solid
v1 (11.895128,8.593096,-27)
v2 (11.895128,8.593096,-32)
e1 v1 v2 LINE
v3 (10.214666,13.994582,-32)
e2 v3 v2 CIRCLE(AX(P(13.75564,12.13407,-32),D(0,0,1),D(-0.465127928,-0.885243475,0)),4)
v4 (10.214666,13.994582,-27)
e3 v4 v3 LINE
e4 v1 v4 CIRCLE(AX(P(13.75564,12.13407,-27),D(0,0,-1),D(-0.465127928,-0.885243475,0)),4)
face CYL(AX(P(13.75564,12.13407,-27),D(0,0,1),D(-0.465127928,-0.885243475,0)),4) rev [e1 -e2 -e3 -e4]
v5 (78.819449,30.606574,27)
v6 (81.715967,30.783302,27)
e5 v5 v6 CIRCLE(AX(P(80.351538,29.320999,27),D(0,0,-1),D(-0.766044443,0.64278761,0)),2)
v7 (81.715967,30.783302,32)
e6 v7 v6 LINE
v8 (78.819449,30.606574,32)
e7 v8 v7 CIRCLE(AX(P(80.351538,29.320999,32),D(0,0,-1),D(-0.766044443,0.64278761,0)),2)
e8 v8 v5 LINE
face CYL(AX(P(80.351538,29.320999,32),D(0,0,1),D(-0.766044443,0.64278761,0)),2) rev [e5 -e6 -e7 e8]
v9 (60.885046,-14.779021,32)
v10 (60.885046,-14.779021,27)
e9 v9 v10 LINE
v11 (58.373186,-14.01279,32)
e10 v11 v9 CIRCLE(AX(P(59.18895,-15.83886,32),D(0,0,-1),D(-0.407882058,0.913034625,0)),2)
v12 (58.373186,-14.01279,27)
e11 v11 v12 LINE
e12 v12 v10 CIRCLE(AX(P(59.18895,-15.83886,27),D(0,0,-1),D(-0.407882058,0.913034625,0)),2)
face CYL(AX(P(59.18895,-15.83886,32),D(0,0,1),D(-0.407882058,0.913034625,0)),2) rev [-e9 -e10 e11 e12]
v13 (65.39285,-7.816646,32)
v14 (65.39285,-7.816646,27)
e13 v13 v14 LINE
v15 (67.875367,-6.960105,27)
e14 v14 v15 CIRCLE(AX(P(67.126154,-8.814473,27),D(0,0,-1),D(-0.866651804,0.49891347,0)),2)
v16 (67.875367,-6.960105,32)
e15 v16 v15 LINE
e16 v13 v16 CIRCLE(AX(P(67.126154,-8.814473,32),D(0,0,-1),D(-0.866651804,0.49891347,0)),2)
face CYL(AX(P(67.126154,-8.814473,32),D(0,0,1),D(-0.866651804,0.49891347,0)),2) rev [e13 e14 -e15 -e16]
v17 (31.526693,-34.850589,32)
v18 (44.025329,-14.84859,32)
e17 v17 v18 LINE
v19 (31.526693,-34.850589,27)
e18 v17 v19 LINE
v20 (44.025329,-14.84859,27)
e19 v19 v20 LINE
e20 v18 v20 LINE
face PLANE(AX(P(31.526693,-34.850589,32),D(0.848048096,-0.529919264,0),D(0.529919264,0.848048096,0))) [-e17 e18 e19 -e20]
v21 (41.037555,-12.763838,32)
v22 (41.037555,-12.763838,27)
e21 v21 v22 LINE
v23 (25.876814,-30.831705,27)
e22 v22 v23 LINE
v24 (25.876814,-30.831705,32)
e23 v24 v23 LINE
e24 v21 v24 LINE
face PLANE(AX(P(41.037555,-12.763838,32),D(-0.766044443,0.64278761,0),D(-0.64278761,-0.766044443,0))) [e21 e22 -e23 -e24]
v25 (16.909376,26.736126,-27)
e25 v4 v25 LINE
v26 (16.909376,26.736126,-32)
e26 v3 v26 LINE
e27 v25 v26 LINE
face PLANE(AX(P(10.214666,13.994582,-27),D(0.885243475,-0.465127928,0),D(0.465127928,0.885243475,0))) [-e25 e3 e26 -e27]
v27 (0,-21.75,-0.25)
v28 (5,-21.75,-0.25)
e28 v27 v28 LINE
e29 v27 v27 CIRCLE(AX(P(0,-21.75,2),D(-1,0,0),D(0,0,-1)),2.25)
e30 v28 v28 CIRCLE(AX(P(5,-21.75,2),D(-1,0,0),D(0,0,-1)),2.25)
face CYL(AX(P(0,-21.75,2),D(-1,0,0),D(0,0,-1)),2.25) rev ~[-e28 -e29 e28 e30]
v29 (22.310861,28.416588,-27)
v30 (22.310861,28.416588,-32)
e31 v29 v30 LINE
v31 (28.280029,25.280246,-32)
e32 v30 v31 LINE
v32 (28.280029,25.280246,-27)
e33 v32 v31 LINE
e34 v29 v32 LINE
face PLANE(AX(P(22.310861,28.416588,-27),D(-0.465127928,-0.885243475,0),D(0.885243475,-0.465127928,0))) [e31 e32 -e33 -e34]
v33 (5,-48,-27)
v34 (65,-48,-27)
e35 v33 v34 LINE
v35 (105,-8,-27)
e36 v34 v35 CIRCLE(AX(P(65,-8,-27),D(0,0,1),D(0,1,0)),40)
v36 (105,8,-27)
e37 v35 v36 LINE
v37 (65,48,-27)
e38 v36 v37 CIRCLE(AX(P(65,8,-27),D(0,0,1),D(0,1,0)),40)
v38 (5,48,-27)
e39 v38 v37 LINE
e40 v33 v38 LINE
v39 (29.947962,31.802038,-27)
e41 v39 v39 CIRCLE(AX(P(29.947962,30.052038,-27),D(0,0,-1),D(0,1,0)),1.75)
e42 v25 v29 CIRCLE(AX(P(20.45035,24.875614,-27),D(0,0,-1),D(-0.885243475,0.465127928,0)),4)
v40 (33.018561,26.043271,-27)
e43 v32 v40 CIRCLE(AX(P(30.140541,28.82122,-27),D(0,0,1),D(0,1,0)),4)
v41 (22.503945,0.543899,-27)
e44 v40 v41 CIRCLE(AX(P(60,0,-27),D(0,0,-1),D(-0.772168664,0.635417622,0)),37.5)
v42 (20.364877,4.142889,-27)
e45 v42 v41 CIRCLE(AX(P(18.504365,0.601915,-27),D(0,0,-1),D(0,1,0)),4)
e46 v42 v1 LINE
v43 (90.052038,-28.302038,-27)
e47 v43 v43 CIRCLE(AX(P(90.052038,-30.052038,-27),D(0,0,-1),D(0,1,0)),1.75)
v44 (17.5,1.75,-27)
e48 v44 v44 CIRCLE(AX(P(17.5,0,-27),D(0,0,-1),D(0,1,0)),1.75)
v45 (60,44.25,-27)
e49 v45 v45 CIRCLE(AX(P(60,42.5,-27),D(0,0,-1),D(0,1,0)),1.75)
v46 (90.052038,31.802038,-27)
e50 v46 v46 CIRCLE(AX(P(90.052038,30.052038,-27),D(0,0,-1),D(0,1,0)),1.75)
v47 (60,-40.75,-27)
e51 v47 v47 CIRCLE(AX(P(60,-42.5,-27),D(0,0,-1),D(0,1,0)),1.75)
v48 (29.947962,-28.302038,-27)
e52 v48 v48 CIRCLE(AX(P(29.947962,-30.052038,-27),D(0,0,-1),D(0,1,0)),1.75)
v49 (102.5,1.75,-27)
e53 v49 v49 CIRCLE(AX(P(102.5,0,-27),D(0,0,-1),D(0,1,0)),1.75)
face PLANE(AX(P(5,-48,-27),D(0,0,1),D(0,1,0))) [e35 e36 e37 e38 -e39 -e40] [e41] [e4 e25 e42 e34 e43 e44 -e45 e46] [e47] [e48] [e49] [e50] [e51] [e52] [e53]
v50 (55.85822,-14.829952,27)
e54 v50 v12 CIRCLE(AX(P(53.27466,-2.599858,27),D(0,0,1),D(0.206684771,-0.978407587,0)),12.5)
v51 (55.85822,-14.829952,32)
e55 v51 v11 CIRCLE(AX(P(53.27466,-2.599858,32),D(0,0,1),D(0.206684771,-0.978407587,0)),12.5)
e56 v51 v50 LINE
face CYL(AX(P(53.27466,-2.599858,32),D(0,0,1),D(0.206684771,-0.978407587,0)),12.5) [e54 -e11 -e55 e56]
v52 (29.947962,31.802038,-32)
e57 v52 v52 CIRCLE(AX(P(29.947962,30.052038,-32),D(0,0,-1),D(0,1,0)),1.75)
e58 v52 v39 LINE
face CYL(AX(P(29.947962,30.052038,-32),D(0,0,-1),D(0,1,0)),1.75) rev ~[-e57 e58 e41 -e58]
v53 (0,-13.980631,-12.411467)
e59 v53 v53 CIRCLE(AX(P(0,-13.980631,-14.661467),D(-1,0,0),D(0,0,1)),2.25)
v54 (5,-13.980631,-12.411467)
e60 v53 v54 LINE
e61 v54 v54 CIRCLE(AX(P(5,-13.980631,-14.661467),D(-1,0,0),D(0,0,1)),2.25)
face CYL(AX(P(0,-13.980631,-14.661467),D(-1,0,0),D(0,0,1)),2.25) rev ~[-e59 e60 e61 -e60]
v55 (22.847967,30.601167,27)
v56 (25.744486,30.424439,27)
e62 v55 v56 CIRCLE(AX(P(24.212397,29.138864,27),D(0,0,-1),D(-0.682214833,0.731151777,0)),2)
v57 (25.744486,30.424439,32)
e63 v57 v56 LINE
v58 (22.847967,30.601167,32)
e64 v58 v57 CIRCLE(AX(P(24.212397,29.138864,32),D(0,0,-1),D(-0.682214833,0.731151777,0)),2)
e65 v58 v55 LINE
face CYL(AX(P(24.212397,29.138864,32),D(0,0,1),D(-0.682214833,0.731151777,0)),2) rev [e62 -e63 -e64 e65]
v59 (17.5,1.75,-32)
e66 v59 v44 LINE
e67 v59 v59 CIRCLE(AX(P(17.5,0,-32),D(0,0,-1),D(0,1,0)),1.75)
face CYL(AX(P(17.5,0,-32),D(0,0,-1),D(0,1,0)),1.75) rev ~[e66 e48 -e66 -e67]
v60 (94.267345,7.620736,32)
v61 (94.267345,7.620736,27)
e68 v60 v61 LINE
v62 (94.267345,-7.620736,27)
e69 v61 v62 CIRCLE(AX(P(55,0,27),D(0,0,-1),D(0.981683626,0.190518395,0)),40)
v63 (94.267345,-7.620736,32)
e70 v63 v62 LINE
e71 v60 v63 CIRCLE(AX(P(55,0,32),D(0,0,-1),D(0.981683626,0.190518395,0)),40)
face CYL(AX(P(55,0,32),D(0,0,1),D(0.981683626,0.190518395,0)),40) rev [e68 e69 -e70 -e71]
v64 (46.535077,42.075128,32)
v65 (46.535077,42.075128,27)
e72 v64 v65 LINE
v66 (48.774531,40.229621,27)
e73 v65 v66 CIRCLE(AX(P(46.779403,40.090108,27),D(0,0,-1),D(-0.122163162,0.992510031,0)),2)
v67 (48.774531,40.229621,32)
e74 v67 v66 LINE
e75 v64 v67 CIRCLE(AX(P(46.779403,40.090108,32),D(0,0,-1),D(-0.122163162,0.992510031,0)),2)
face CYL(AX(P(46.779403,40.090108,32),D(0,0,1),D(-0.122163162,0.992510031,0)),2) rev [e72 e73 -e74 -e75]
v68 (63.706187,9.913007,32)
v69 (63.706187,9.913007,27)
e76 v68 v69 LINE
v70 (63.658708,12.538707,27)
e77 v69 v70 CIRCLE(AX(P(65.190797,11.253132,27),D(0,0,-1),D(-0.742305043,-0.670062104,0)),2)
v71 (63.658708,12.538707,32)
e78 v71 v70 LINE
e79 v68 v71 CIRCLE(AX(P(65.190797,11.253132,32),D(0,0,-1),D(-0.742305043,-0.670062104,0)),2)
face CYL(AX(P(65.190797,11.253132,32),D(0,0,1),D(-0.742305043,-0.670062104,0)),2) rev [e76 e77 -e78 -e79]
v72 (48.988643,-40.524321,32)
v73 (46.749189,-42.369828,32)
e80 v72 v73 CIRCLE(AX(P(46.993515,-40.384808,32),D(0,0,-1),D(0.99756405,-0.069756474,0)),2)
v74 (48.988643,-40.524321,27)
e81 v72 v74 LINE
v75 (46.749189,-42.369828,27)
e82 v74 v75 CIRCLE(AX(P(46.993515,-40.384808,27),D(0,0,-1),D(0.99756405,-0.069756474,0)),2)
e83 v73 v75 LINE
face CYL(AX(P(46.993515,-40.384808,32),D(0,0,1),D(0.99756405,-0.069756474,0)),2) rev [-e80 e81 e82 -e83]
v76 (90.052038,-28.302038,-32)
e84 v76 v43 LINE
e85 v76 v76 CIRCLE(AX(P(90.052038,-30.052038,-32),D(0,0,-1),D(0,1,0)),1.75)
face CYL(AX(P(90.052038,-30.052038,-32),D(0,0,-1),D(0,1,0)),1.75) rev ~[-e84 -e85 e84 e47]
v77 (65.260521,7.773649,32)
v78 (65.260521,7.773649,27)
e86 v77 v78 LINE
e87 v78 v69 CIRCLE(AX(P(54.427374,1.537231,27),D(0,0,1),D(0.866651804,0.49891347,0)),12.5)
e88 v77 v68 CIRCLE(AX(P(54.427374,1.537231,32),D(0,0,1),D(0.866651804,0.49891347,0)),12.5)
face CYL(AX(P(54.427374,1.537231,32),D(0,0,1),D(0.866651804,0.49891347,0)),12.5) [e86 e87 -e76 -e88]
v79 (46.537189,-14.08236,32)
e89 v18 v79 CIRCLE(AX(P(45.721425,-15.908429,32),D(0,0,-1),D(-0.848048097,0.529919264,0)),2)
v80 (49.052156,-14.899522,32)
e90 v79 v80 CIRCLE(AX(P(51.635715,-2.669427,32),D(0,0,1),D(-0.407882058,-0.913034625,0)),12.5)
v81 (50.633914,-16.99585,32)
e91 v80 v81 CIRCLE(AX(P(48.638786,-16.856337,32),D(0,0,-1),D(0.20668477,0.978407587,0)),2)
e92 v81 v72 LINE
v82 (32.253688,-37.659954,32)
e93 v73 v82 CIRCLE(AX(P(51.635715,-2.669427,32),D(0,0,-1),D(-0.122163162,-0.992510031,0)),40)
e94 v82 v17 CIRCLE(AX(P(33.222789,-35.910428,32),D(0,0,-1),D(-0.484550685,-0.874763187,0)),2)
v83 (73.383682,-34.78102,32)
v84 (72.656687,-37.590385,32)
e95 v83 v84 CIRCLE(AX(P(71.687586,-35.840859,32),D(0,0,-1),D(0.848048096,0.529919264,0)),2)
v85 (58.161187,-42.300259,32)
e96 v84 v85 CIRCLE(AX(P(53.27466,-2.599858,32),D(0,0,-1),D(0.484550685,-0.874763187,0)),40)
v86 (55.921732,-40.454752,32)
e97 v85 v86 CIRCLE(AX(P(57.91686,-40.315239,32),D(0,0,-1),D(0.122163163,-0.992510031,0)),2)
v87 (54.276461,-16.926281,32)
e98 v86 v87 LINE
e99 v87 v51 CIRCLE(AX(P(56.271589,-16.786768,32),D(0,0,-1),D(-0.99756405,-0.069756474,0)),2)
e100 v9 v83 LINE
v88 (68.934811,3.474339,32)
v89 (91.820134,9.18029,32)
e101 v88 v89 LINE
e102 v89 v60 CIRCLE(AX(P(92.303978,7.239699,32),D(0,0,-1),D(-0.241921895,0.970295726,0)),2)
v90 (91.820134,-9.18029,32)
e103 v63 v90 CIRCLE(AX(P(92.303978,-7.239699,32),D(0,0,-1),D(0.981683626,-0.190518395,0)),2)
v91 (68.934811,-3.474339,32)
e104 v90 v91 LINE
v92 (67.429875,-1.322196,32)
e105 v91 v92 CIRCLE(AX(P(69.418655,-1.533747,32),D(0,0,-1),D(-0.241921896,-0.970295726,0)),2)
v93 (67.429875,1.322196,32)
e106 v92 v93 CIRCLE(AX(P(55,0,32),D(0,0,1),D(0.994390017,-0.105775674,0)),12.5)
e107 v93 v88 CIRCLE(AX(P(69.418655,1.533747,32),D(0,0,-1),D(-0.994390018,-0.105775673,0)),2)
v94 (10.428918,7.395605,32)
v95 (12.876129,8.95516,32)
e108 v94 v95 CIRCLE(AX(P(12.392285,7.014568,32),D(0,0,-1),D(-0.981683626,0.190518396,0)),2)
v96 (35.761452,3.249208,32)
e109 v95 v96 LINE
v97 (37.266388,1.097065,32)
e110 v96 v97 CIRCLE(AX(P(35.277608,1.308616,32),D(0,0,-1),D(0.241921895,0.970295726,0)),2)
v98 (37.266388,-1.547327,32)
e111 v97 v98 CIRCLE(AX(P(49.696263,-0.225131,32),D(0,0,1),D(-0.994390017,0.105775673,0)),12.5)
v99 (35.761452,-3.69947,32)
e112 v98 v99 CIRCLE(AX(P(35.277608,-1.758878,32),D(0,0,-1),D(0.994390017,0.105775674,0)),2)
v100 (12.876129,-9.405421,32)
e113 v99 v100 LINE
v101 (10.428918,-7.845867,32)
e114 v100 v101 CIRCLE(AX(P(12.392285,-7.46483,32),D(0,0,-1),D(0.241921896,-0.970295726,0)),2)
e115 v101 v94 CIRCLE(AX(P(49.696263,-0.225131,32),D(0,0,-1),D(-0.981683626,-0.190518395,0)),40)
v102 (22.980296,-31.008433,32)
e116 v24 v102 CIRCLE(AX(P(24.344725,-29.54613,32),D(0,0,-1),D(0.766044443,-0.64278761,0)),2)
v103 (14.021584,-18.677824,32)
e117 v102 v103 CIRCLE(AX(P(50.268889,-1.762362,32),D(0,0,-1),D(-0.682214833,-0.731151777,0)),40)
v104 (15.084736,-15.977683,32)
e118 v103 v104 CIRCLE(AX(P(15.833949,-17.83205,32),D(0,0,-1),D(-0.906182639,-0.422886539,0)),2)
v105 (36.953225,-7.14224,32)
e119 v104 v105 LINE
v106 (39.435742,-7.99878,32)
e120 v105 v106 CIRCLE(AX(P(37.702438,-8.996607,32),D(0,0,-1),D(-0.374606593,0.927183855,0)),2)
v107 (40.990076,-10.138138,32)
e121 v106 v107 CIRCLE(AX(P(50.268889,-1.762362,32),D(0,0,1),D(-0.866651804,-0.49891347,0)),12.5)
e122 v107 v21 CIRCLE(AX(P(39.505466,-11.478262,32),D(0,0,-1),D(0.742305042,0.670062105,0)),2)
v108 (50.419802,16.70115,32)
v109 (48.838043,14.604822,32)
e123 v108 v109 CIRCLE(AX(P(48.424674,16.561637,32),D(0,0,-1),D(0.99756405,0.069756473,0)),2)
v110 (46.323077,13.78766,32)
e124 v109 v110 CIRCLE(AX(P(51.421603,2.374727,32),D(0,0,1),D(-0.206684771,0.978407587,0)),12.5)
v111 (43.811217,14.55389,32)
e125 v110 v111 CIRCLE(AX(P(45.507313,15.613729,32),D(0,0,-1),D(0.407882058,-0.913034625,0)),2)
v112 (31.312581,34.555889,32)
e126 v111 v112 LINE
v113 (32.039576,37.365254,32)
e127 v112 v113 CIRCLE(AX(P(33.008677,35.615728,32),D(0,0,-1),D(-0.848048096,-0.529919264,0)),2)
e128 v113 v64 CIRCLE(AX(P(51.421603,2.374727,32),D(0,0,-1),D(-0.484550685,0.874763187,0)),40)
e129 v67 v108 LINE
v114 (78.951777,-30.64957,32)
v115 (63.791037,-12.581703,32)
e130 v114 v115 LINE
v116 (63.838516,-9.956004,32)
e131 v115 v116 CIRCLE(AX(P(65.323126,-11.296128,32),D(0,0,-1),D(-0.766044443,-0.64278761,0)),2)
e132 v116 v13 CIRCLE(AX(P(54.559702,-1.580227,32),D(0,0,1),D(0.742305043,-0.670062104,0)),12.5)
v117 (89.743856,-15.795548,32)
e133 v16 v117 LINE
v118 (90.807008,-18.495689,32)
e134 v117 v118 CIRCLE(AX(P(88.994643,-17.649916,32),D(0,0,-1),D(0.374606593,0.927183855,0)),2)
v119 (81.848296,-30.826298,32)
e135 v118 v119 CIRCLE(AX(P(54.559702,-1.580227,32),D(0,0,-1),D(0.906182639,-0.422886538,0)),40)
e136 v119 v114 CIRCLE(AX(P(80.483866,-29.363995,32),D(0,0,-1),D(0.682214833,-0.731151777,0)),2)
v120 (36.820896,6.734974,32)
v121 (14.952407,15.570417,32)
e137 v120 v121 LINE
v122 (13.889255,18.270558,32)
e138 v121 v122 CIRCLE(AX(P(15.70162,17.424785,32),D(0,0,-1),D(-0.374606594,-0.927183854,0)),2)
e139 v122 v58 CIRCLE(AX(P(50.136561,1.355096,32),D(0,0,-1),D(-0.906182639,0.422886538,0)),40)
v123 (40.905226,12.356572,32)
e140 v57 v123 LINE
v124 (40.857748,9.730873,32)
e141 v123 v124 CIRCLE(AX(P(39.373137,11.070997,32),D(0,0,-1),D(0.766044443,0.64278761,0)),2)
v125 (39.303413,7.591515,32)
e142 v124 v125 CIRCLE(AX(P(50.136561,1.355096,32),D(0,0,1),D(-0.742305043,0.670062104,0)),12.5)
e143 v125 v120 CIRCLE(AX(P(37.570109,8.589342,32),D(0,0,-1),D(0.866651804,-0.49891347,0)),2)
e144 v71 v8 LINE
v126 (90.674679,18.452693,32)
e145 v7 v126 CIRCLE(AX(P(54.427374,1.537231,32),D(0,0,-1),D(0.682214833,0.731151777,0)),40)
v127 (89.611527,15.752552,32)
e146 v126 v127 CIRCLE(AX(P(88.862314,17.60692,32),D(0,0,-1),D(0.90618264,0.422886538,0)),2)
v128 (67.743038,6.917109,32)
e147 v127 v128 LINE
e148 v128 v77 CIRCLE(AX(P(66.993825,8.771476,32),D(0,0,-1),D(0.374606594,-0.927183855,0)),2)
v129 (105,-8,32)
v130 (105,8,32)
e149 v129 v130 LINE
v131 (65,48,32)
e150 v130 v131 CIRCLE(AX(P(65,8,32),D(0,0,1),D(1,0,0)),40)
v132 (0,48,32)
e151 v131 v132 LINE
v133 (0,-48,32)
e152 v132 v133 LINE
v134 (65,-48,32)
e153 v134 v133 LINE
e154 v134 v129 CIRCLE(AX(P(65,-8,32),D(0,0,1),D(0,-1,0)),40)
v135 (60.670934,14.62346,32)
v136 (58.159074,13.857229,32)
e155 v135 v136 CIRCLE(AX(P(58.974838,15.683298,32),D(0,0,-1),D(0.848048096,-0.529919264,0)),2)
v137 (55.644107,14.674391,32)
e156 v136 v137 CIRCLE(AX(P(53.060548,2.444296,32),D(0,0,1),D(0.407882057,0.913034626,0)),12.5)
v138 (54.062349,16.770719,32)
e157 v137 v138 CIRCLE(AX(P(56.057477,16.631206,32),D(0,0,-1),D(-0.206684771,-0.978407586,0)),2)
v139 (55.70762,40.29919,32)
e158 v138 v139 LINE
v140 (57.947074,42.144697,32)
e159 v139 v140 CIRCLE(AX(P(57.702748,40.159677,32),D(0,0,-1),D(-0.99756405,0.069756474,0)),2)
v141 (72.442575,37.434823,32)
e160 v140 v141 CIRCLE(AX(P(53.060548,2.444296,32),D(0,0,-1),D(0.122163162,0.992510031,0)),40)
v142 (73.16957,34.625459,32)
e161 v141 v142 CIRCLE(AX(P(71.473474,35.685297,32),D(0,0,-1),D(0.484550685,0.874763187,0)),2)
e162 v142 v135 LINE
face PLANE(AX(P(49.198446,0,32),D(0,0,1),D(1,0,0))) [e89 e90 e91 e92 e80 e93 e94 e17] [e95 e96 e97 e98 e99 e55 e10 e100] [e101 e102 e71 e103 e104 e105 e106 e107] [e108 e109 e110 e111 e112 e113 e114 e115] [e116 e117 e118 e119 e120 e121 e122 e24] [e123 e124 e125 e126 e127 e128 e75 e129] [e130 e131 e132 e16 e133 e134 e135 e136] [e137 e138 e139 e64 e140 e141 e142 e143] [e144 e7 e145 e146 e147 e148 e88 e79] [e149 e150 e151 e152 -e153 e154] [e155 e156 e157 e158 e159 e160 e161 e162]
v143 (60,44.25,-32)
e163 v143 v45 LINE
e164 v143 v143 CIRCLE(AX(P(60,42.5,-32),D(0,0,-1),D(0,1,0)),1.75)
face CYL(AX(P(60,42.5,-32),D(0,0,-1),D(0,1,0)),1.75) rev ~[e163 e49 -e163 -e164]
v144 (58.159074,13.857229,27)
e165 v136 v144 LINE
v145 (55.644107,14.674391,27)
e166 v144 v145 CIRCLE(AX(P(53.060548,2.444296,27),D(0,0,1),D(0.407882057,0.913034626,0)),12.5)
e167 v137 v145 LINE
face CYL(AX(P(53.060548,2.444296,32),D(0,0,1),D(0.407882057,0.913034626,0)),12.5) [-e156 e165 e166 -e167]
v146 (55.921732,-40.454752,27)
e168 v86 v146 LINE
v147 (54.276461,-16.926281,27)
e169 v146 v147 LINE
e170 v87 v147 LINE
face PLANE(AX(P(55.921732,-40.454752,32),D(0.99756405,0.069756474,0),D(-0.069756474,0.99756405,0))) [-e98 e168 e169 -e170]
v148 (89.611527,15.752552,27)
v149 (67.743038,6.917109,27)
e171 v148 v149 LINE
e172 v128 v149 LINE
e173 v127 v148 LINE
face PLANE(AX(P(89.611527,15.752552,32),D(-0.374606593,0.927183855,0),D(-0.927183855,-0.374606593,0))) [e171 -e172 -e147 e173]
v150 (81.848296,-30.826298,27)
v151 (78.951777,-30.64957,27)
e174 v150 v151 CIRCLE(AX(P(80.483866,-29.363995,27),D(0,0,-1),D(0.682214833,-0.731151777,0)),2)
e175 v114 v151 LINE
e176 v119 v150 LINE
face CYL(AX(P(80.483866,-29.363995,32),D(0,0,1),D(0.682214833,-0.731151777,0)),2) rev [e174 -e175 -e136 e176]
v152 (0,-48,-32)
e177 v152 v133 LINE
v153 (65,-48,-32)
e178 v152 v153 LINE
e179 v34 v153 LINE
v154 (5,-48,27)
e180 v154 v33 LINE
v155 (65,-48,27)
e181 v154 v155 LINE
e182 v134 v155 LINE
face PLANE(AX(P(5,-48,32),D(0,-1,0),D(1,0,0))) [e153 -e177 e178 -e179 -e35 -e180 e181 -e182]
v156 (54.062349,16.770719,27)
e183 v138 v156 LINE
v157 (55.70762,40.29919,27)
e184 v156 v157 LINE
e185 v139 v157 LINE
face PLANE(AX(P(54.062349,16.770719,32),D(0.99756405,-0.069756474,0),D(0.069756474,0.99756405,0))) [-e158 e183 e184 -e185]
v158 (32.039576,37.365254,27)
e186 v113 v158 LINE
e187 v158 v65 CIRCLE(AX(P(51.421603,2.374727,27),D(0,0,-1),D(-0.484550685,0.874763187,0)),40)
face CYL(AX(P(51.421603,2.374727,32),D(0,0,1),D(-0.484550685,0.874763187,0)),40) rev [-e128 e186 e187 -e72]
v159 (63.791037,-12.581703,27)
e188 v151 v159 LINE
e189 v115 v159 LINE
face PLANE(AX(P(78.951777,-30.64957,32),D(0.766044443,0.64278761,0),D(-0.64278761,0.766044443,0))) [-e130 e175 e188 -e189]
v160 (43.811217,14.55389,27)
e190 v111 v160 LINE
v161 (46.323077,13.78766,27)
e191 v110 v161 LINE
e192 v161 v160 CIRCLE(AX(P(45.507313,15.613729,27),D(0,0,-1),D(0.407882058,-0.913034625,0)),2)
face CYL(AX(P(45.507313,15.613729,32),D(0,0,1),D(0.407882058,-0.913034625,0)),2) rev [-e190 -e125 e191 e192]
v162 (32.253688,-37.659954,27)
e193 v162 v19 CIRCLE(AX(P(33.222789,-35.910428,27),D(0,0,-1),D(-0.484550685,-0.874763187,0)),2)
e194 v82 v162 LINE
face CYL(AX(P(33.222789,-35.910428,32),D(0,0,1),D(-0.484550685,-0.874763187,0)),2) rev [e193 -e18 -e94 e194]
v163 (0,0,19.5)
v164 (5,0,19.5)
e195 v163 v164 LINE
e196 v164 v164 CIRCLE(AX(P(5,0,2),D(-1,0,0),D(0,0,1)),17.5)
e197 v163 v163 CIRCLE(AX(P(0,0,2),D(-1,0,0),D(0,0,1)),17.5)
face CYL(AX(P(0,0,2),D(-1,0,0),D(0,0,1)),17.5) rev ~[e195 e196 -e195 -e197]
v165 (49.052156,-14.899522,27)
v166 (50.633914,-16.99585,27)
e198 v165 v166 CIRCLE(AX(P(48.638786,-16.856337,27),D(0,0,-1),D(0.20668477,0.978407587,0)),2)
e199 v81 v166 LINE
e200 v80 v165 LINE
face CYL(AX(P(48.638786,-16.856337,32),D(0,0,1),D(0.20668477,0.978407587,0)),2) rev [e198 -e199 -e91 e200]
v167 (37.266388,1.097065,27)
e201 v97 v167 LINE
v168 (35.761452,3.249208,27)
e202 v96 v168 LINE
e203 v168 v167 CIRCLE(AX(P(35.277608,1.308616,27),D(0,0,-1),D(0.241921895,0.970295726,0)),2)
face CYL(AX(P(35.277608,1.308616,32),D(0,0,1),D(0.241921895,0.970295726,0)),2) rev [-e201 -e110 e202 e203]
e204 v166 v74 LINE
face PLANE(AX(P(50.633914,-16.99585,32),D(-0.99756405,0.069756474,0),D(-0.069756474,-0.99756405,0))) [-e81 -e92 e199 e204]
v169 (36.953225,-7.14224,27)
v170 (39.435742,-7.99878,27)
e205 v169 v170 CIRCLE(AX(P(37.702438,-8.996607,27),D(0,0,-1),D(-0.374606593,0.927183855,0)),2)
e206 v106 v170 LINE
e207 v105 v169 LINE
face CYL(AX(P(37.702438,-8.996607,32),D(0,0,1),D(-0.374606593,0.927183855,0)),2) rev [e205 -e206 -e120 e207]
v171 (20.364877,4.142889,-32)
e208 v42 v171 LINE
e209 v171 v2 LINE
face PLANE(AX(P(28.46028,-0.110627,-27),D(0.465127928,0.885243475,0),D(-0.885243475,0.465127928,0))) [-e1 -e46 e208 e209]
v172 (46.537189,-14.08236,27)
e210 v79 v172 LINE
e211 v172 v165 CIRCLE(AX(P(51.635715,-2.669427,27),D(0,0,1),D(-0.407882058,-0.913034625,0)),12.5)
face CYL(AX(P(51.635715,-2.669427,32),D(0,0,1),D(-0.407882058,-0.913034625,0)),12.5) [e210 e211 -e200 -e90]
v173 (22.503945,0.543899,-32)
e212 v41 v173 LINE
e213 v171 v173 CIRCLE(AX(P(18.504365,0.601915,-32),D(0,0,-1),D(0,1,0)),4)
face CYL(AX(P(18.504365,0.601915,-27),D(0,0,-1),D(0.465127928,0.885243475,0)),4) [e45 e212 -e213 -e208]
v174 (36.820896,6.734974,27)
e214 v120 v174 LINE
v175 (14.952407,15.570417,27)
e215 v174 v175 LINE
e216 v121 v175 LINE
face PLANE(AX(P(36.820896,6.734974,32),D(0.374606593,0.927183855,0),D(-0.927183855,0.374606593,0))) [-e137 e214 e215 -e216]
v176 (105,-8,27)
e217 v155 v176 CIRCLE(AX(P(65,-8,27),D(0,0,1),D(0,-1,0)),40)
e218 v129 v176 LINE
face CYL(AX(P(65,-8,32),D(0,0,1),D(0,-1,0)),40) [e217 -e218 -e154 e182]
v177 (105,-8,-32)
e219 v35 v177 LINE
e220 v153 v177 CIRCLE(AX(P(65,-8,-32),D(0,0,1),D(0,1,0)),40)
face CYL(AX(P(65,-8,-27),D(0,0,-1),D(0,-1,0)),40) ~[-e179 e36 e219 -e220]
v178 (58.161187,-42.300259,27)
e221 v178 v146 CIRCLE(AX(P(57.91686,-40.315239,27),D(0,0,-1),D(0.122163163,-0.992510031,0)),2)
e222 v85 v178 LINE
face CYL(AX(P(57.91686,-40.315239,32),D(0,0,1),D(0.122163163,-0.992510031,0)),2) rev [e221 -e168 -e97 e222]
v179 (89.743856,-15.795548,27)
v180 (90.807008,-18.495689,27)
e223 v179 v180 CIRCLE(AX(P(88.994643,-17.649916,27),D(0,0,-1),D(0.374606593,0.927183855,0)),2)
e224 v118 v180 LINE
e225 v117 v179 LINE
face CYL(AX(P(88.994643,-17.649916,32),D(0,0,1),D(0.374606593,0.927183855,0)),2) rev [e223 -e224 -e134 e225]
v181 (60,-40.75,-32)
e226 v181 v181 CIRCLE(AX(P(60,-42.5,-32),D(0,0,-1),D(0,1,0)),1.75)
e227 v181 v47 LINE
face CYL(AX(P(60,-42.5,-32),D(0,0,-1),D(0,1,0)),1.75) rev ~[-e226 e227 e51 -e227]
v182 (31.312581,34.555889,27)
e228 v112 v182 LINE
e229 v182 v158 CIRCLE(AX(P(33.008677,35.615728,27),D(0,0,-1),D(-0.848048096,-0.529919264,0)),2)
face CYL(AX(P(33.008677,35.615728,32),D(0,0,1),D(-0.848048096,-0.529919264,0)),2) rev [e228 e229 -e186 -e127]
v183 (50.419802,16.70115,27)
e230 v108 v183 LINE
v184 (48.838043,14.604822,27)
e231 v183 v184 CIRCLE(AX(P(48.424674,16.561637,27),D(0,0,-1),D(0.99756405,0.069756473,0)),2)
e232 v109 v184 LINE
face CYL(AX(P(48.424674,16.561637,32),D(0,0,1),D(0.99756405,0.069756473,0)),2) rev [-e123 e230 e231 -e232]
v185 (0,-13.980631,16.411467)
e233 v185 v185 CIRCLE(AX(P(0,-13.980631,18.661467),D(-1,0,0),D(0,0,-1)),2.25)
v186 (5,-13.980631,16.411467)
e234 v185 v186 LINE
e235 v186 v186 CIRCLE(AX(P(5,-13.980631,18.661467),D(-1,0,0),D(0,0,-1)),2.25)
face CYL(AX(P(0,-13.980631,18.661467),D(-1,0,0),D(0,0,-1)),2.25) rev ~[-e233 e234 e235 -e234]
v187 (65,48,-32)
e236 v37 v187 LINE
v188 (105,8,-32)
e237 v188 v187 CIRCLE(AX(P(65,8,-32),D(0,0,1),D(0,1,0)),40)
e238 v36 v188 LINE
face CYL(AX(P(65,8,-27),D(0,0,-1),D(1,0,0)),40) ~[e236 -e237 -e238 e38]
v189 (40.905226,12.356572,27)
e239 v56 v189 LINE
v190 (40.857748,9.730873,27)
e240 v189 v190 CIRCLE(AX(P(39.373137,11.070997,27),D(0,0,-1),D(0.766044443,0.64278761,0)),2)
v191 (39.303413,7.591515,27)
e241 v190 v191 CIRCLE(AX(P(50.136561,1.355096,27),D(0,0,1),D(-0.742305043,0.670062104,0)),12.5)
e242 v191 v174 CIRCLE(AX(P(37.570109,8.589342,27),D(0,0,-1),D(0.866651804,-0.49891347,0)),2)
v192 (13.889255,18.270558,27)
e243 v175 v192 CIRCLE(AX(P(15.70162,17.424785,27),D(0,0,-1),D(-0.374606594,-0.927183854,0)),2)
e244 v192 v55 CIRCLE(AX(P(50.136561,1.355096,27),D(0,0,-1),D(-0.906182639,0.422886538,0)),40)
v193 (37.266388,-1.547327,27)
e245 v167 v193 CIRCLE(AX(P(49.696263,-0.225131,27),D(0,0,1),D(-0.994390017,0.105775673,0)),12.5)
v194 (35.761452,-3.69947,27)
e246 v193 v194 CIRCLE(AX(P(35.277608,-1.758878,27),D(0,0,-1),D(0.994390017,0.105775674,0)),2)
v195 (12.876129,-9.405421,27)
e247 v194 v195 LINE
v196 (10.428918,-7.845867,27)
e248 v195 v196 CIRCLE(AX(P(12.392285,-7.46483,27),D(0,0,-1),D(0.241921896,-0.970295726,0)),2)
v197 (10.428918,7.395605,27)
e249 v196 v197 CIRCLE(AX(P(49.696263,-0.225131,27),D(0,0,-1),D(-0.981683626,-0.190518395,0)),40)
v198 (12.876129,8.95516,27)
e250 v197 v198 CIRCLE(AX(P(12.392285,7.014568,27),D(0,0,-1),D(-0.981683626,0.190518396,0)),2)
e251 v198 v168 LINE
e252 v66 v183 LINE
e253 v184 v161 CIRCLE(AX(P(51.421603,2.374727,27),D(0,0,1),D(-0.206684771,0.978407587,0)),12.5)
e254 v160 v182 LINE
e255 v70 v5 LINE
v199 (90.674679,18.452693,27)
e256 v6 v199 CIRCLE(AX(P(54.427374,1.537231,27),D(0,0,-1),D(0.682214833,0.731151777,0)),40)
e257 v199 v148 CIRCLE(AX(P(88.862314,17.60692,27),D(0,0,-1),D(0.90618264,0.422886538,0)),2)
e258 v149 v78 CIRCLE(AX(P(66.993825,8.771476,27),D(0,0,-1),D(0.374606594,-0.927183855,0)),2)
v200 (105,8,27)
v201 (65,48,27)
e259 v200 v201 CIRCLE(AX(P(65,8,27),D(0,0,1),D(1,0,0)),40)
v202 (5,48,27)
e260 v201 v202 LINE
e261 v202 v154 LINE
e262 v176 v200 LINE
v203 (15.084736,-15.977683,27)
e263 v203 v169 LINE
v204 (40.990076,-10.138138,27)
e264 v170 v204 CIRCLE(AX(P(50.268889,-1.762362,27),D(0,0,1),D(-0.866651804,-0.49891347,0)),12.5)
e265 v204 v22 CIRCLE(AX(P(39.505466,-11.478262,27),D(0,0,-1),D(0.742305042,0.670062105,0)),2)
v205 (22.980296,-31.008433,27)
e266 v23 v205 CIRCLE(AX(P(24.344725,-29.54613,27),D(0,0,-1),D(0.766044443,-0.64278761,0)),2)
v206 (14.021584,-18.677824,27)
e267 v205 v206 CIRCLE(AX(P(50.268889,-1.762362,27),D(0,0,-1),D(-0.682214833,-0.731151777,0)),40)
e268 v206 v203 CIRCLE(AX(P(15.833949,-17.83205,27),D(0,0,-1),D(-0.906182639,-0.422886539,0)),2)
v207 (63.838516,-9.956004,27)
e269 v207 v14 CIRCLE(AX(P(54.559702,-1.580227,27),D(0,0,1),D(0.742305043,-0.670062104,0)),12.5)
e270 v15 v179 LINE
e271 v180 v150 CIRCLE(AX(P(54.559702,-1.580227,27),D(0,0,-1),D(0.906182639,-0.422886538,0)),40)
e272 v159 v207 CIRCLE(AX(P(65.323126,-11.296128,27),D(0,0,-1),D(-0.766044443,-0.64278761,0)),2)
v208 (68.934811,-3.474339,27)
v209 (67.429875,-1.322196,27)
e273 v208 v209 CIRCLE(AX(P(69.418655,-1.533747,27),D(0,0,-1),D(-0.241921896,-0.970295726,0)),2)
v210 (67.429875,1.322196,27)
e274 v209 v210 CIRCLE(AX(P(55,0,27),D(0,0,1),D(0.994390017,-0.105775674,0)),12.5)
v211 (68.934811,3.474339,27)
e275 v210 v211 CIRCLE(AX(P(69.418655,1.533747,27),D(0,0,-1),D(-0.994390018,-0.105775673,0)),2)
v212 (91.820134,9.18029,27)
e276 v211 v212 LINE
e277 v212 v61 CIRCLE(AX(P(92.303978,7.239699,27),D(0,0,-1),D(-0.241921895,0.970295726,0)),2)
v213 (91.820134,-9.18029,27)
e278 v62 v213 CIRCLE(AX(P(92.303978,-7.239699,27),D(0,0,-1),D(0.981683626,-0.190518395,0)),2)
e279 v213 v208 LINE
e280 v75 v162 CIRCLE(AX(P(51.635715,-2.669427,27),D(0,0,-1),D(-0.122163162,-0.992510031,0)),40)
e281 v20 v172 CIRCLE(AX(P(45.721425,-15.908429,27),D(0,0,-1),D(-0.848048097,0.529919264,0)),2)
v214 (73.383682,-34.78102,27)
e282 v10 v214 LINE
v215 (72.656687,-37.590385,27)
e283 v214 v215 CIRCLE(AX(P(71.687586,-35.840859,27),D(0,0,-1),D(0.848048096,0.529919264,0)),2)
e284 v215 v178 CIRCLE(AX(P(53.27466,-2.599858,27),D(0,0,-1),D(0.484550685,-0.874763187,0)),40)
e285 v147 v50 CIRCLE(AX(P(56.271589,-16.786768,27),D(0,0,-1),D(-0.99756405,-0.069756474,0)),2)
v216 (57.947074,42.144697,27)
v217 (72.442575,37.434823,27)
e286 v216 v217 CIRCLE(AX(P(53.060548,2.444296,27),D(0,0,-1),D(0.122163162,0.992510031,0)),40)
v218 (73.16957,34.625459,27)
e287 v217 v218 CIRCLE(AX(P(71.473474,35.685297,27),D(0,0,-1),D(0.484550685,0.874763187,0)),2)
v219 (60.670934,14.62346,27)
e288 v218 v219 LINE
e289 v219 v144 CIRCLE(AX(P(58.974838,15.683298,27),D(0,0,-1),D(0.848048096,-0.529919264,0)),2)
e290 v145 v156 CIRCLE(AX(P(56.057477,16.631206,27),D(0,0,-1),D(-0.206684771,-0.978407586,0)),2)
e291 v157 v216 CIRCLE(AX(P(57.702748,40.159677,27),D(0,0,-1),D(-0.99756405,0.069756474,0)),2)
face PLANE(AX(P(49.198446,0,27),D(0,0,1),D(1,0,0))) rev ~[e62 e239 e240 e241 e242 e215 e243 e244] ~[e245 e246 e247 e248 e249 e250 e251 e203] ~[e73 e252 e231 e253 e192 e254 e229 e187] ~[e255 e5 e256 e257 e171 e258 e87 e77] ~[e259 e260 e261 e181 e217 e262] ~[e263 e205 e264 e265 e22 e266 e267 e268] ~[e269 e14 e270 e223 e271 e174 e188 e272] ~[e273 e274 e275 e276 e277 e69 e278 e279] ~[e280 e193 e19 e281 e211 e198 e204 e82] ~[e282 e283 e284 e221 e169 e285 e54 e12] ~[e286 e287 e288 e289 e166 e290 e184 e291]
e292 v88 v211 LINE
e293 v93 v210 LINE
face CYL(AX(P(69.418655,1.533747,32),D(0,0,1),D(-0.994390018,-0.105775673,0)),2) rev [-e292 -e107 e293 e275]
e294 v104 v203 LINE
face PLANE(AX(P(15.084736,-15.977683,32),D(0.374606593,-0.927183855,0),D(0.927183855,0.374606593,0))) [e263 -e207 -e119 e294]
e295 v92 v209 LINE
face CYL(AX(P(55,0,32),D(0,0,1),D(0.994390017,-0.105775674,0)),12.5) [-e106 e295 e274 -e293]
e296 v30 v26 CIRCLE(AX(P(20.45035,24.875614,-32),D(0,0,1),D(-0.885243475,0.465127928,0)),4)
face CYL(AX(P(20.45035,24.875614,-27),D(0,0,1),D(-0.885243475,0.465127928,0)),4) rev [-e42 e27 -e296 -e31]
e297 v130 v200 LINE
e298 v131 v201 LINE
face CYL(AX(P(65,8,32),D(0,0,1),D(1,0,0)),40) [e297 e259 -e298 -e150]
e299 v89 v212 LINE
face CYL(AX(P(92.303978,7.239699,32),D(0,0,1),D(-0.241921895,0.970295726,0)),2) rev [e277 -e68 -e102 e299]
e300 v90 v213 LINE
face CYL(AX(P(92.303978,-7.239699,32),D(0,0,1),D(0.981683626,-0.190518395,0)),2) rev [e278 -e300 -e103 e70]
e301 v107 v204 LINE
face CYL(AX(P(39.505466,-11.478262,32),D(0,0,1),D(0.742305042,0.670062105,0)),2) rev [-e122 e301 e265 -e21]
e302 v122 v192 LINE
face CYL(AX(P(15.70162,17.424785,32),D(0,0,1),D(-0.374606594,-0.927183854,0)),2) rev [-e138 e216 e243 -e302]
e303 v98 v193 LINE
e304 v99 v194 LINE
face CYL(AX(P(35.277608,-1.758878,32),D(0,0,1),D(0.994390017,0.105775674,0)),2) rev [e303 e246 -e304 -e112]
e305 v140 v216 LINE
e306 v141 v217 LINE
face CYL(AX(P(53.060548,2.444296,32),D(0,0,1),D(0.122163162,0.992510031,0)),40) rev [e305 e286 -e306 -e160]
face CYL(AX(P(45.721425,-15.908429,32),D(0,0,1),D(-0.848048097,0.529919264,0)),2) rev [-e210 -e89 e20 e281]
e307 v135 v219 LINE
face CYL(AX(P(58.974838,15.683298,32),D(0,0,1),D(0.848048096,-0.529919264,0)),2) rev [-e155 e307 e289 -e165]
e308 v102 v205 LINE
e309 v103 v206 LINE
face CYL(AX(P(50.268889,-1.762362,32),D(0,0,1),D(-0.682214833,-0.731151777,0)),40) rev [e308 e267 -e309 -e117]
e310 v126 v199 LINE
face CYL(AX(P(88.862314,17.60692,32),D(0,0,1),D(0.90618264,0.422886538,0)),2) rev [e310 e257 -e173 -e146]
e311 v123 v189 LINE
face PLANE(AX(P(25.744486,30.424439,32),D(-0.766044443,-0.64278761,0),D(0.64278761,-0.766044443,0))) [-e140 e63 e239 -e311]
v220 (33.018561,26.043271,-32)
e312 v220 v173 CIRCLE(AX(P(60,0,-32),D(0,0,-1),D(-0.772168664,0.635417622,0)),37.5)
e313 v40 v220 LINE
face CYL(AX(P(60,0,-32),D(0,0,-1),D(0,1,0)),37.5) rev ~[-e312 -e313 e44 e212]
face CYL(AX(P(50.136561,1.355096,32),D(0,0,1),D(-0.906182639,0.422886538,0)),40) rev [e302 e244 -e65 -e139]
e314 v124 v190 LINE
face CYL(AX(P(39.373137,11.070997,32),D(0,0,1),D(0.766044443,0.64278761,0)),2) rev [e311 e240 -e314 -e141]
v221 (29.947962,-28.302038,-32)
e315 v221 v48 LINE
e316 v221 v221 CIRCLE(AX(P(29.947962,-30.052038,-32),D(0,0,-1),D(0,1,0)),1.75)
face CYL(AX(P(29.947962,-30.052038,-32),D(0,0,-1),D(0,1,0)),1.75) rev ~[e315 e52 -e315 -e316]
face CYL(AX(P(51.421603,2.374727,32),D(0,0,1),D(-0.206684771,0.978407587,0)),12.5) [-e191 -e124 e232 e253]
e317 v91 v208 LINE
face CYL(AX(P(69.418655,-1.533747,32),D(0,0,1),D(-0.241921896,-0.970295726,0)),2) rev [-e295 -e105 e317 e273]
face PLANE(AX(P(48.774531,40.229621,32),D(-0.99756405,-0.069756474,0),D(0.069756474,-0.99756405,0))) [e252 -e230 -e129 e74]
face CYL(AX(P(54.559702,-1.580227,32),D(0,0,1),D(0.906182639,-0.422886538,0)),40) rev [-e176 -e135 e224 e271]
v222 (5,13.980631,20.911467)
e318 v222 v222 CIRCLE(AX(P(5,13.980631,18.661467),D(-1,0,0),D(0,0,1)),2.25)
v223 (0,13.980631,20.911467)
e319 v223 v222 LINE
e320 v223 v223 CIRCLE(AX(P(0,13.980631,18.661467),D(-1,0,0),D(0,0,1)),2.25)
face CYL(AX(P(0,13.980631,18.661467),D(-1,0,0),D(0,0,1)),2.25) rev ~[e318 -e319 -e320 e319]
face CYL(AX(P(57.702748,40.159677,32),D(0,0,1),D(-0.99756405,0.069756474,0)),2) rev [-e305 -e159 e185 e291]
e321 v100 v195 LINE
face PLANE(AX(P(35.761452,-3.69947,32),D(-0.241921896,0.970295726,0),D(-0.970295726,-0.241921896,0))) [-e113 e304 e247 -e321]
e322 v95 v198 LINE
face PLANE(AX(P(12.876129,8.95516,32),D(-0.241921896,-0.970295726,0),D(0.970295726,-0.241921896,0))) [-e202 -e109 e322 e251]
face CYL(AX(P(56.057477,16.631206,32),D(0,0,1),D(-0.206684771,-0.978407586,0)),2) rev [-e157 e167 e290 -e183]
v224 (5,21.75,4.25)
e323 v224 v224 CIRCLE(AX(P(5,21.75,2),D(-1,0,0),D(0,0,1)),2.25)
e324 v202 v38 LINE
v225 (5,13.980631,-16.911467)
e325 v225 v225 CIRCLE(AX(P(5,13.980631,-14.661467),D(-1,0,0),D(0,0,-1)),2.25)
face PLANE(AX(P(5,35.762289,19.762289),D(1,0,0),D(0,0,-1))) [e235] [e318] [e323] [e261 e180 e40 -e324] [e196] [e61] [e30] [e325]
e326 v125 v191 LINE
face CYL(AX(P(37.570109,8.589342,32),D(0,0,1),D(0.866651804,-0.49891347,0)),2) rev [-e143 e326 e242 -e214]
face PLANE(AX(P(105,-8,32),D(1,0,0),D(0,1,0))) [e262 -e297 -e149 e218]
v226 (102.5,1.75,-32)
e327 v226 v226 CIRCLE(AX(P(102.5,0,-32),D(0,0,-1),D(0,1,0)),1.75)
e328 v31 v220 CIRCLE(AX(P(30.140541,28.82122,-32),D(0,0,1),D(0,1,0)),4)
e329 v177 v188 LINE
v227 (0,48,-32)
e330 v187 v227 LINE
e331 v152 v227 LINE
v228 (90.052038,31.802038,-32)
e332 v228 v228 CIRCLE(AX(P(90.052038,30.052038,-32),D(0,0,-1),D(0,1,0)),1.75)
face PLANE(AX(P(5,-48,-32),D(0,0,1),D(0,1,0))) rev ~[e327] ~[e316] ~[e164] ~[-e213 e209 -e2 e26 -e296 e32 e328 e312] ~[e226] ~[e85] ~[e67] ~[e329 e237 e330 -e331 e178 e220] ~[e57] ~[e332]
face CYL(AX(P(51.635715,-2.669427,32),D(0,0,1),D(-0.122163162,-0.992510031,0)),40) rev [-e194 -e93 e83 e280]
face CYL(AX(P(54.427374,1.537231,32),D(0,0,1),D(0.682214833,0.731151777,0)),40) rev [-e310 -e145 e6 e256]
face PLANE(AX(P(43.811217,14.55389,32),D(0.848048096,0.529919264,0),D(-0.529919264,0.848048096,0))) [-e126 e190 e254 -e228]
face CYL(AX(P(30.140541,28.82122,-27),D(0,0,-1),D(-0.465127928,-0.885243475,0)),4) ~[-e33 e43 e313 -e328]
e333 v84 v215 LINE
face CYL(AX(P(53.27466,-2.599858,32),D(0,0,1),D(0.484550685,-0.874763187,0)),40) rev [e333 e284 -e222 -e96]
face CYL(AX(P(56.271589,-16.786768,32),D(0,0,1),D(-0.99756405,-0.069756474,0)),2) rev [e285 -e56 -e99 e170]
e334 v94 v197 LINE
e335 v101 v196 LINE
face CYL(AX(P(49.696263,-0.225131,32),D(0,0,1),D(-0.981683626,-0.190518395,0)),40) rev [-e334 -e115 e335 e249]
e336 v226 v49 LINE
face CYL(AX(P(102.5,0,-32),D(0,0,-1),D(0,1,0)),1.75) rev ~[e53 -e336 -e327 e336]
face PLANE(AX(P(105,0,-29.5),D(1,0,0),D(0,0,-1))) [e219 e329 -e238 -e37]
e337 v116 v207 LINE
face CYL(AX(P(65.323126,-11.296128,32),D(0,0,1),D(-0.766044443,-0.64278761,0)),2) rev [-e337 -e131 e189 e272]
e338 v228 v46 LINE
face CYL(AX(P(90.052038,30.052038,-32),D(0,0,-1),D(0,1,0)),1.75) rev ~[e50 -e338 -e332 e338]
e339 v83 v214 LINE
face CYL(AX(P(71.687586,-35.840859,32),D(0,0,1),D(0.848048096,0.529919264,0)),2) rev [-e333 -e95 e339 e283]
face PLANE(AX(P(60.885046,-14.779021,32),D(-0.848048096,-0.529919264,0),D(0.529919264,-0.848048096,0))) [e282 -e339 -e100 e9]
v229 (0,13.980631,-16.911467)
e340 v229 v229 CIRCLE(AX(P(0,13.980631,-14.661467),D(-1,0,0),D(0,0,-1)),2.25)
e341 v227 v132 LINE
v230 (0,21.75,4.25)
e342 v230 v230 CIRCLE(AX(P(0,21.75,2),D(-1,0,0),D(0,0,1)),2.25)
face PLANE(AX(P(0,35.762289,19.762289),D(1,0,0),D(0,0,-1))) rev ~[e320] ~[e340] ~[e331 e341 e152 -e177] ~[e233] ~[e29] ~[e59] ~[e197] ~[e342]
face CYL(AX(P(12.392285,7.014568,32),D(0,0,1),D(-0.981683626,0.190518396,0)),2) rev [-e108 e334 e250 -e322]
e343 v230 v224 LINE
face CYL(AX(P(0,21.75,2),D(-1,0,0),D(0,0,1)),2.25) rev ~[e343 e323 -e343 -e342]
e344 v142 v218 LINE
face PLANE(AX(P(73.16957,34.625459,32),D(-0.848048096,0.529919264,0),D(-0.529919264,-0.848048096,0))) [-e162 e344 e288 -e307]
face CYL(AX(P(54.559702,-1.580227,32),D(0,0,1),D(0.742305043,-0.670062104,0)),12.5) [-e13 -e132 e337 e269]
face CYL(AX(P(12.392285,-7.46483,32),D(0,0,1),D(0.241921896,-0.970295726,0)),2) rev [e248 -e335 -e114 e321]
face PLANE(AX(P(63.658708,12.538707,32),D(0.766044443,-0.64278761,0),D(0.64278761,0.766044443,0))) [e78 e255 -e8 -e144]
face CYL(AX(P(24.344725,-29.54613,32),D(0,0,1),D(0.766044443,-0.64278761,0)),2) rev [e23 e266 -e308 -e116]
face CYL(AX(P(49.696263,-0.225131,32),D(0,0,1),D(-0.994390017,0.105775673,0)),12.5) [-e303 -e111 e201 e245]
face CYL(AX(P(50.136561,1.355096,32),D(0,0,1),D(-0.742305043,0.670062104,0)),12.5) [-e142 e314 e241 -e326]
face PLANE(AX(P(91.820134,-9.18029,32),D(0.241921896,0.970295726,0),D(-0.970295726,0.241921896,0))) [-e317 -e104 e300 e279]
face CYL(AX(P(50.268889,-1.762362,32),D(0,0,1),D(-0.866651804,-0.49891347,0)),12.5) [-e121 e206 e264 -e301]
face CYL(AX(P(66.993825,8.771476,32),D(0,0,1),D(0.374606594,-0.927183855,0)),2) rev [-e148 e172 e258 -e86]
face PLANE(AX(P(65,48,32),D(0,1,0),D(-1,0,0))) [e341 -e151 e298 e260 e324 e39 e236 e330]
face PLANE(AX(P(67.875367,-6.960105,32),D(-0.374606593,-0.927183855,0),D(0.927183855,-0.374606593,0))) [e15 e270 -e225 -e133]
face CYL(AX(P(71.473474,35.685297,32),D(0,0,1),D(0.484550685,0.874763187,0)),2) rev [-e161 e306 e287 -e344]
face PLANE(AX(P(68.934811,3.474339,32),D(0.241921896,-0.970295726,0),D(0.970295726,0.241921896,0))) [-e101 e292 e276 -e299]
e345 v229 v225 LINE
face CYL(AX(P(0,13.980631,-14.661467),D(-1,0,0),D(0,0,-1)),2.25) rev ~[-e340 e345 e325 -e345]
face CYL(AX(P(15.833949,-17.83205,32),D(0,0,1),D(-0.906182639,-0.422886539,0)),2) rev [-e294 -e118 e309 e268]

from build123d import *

# Parameters (mm, degrees)
SKETCH_1_W          = 64
SKETCH_1_H          = 96
EXTRUDE_1_DEPTH     = 5
SKETCH_3_W          = 5
SKETCH_3_H          = 96
EXTRUDE_2_DEPTH     = 100
SKETCH_4_R          = 2.25
SKETCH_4_R_2        = 17.5
CUT_EXTRUDE_1_DEPTH = 100
SKETCH_5_R          = 1.75
SKETCH_5_R_2        = 37.5
CUT_EXTRUDE_2_DEPTH = 22
FILLET_1_R          = 40
CUT_EXTRUDE_3_DEPTH = 10
FILLET_2_R          = 4
EXTRUDE_3_DEPTH     = 5
EXTRUDE_4_DEPTH     = 5
CUT_EXTRUDE_4_DEPTH = 5


with BuildPart() as part:
    # 草图1 → 凸台-拉伸1 (new body)
    with BuildSketch(Plane(origin=(0, 0, 0), x_dir=(0, 0, -1), z_dir=(1, 0, 0))):
        Rectangle(SKETCH_1_W, SKETCH_1_H)
    extrude(amount=EXTRUDE_1_DEPTH)

    # 草图3 → 凸台-拉伸2 (add)
    with BuildSketch(Plane(origin=(5, 0, 0), x_dir=(0, 0, -1), z_dir=(1, 0, 0))):
        with Locations((29.5, 0)):
            Rectangle(SKETCH_3_W, SKETCH_3_H)
    extrude(amount=EXTRUDE_2_DEPTH)

    # 草图4 → 切除-拉伸1 (cut)
    with BuildSketch(Plane.ZY):
        with Locations((2, 21.75)):
            Circle(SKETCH_4_R)
        with Locations((18.661466638, 13.980630511)):
            Circle(SKETCH_4_R)
        with Locations(Location((-14.661466638, 13.980630511, 0), (0, 0, 180))):
            Circle(SKETCH_4_R)
        with Locations(Location((2, -21.75, 0), (0, 0, 180))):
            Circle(SKETCH_4_R)
        with Locations(Location((18.661466638, -13.980630511, 0), (0, 0, 180))):
            Circle(SKETCH_4_R)
        with Locations((-14.661466638, -13.980630511)):
            Circle(SKETCH_4_R)
        with Locations((2, 0)):
            Circle(SKETCH_4_R_2)
    extrude(amount=-CUT_EXTRUDE_1_DEPTH, mode=Mode.SUBTRACT)

    # 草图5 → 切除-拉伸2 (cut)
    with BuildSketch(Plane(origin=(0, 0, -32), x_dir=(-1, 0, 0), z_dir=(0, 0, -1))):
        with Locations(Location((-60, 42.5, 0), (0, 0, 90))):
            Circle(SKETCH_5_R)
        with Locations(Location((-29.9479618, 30.0520382, 0), (0, 0, 90))):
            Circle(SKETCH_5_R)
        with Locations(Location((-17.5, 0, 0), (0, 0, 90))):
            Circle(SKETCH_5_R)
        with Locations(Location((-29.9479618, -30.0520382, 0), (0, 0, 90))):
            Circle(SKETCH_5_R)
        with Locations(Location((-60, -42.5, 0), (0, 0, 90))):
            Circle(SKETCH_5_R)
        with Locations(Location((-90.0520382, -30.0520382, 0), (0, 0, 90))):
            Circle(SKETCH_5_R)
        with Locations(Location((-102.5, 0, 0), (0, 0, 90))):
            Circle(SKETCH_5_R)
        with Locations(Location((-90.0520382, 30.0520382, 0), (0, 0, 90))):
            Circle(SKETCH_5_R)
        with Locations(Location((-60, 0, 0), (0, 0, 90))):
            Circle(SKETCH_5_R_2)
    extrude(amount=-CUT_EXTRUDE_2_DEPTH, mode=Mode.SUBTRACT)

    # 圆角1
    fillet_1_edges = [part.edges().sort_by_distance(p)[0] for p in [
        (105, 48, -29.5),
        (105, -48, -29.5),
        (2.5, 48, 32),
        (2.5, -48, 32),
    ]]
    fillet(fillet_1_edges, radius=FILLET_1_R)

    # 草图6 → 切除-拉伸3 (cut)
    with BuildSketch(Plane.XY.offset(-27)):
        with BuildLine():
            Line((10.214665978, 13.994581898), (16.909375695, 26.736126199))
            ThreePointArc((16.909375695, 26.736126199), (19.262083386, 28.695041593), (22.310861308, 28.41658839))
            Line((22.310861308, 28.41658839), (38.87601299, 19.712864625))
            Line((38.87601299, 19.712864625), (28.460279851, -0.11062748))
            Line((28.460279851, -0.11062748), (11.895128168, 8.593096285))
            ThreePointArc((11.895128168, 8.593096285), (9.936212774, 10.945803977), (10.214665978, 13.994581898))
        make_face()
    extrude(amount=-CUT_EXTRUDE_3_DEPTH, mode=Mode.SUBTRACT)

    # 圆角2
    fillet_2_edges = [part.edges().sort_by_distance(p)[0] for p in [
        (31.043675088, 23.82816081, -29.5),
        (22.616971057, 2.959585615, -29.5),
    ]]
    fillet(fillet_2_edges, radius=FILLET_2_R)

    # 草图7 → 凸台-拉伸3 (add)
    with BuildSketch(Plane(origin=(5, 0, 0), x_dir=(0, 0, -1), z_dir=(1, 0, 0))):
        with BuildLine():
            Line((8, 48), (-27, 48))
            Line((-27, 48), (-32, 48))
            Line((-32, 48), (-32, 8))
            ThreePointArc((-32, 8), (-20.284271247, 36.284271247), (8, 48))
        make_face()
        with BuildLine():
            ThreePointArc((8, -48), (-20.284271247, -36.284271247), (-32, -8))
            Line((-32, -8), (-32, -48))
            Line((-32, -48), (-27, -48))
            Line((-27, -48), (8, -48))
        make_face()
    extrude(amount=-EXTRUDE_3_DEPTH)

    # 草图8 → 凸台-拉伸4 (add)
    with BuildSketch(Plane.XY.offset(32)):
        with BuildLine():
            Line((5, -48), (65, -48))
            ThreePointArc((65, -48), (93.284271247, -36.284271247), (105, -8))
            Line((105, -8), (105, 8))
            ThreePointArc((105, 8), (93.284271247, 36.284271247), (65, 48))
            Line((65, 48), (5, 48))
            Line((5, 48), (5, -48))
        make_face()
    extrude(amount=-EXTRUDE_4_DEPTH)

    # 草图9 → 切除-拉伸4 (cut)
    with BuildSketch(Plane.XY.offset(32)):
        with BuildLine():
            Line((68.934811463, 3.474338712), (91.820133988, 9.180290472))
            ThreePointArc((91.820133988, 9.180290472), (93.378826653, 8.926322835), (94.26734503, 7.620735809))
            ThreePointArc((94.26734503, 7.620735809), (95, 0), (94.26734503, -7.620735809))
            ThreePointArc((94.26734503, -7.620735809), (93.378826653, -8.926322835), (91.820133988, -9.180290472))
            Line((91.820133988, -9.180290472), (68.934811463, -3.474338712))
            ThreePointArc((68.934811463, -3.474338712), (67.77963213, -2.679872557), (67.429875219, -1.322195913))
            ThreePointArc((67.429875219, -1.322195913), (67.5, 0), (67.429875219, 1.322195913))
            ThreePointArc((67.429875219, 1.322195913), (67.77963213, 2.679872557), (68.934811463, 3.474338712))
        make_face()
        with BuildLine():
            Line((67.875366835, -6.960104882), (89.743855973, -15.795548013))
            ThreePointArc((89.743855973, -15.795548013), (90.855586398, -16.917188709), (90.807008065, -18.495688799))
            ThreePointArc((90.807008065, -18.495688799), (86.920382266, -25.091637364), (81.848295824, -30.826298358))
            ThreePointArc((81.848295824, -30.826298358), (80.362064559, -31.360282451), (78.951777271, -30.649570023))
            Line((78.951777271, -30.649570023), (63.791036722, -12.581703006))
            ThreePointArc((63.791036722, -12.581703006), (63.323452499, -11.259969009), (63.838515523, -9.956003578))
            ThreePointArc((63.838515523, -9.956003578), (64.672414921, -8.927542926), (65.39285004, -7.816645651))
            ThreePointArc((65.39285004, -7.816645651), (66.473831633, -6.923844127), (67.875366835, -6.960104882))
        make_face()
        with BuildLine():
            Line((60.885046066, -14.779021148), (73.38368225, -34.7810202))
            ThreePointArc((73.38368225, -34.7810202), (73.623807197, -36.341905332), (72.656687427, -37.590385103))
            ThreePointArc((72.656687427, -37.590385103), (65.635339813, -40.642118261), (58.161186526, -42.300258852))
            ThreePointArc((58.161186526, -42.300258852), (56.644932199, -41.858676239), (55.921732101, -40.454751738))
            Line((55.921732101, -40.454751738), (54.276461122, -16.926280561))
            ThreePointArc((54.276461122, -16.926280561), (54.67507329, -15.582136185), (55.85821968, -14.82995244))
            ThreePointArc((55.85821968, -14.82995244), (57.137372468, -14.488064063), (58.373185758, -14.012790426))
            ThreePointArc((58.373185758, -14.012790426), (59.772493806, -13.925883859), (60.885046066, -14.779021148))
        make_face()
        with BuildLine():
            Line((50.633914097, -16.995849828), (48.988643118, -40.524321005))
            ThreePointArc((48.988643118, -40.524321005), (48.265443019, -41.928245506), (46.749188693, -42.36982812))
            ThreePointArc((46.749188693, -42.36982812), (39.275035406, -40.711687528), (32.253687792, -37.65995437))
            ThreePointArc((32.253687792, -37.65995437), (31.286568022, -36.4114746), (31.526692969, -34.850589467))
            Line((31.526692969, -34.850589467), (44.025329153, -14.848590416))
            ThreePointArc((44.025329153, -14.848590416), (45.137881413, -13.995453126), (46.537189461, -14.082359693))
            ThreePointArc((46.537189461, -14.082359693), (47.773002751, -14.55763333), (49.052155539, -14.899521708))
            ThreePointArc((49.052155539, -14.899521708), (50.235301929, -15.651705452), (50.633914097, -16.995849828))
        make_face()
        with BuildLine():
            Line((41.037554918, -12.763837713), (25.876814368, -30.83170473))
            ThreePointArc((25.876814368, -30.83170473), (24.466527081, -31.542417157), (22.980295815, -31.008433064))
            ThreePointArc((22.980295815, -31.008433064), (17.908209373, -25.273772071), (14.021583575, -18.677823506))
            ThreePointArc((14.021583575, -18.677823506), (13.973005242, -17.099323416), (15.084735666, -15.97768272))
            Line((15.084735666, -15.97768272), (36.953224805, -7.142239589))
            ThreePointArc((36.953224805, -7.142239589), (38.354760007, -7.105978834), (39.4357416, -7.998780357))
            ThreePointArc((39.4357416, -7.998780357), (40.156176719, -9.109677633), (40.990076117, -10.138138285))
            ThreePointArc((40.990076117, -10.138138285), (41.505139141, -11.442103716), (41.037554918, -12.763837713))
        make_face()
        with BuildLine():
            Line((35.761451566, -3.699469591), (12.876129042, -9.40542135))
            ThreePointArc((12.876129042, -9.40542135), (11.317436376, -9.151453714), (10.428917999, -7.845866688))
            ThreePointArc((10.428917999, -7.845866688), (9.696263029, -0.225130879), (10.428917999, 7.395604931))
            ThreePointArc((10.428917999, 7.395604931), (11.317436376, 8.701191956), (12.876129042, 8.955159593))
            Line((12.876129042, 8.955159593), (35.761451566, 3.249207833))
            ThreePointArc((35.761451566, 3.249207833), (36.9166309, 2.454741678), (37.26638781, 1.097065035))
            ThreePointArc((37.26638781, 1.097065035), (37.196263029, -0.225130879), (37.26638781, -1.547326792))
            ThreePointArc((37.26638781, -1.547326792), (36.9166309, -2.905003436), (35.761451566, -3.699469591))
        make_face()
        with BuildLine():
            Line((36.820896194, 6.734974003), (14.952407056, 15.570417134))
            ThreePointArc((14.952407056, 15.570417134), (13.840676632, 16.69205783), (13.889254964, 18.27055792))
            ThreePointArc((13.889254964, 18.27055792), (17.775880763, 24.866506486), (22.847967205, 30.601167479))
            ThreePointArc((22.847967205, 30.601167479), (24.334198471, 31.135151572), (25.744485758, 30.424439144))
            Line((25.744485758, 30.424439144), (40.905226307, 12.356572128))
            ThreePointArc((40.905226307, 12.356572128), (41.37281053, 11.034838131), (40.857747506, 9.730872699))
            ThreePointArc((40.857747506, 9.730872699), (40.023848108, 8.702412047), (39.303412989, 7.591514772))
            ThreePointArc((39.303412989, 7.591514772), (38.222431396, 6.698713248), (36.820896194, 6.734974003))
        make_face()
        with BuildLine():
            Line((43.811216964, 14.553890269), (31.312580779, 34.555889321))
            ThreePointArc((31.312580779, 34.555889321), (31.072455832, 36.116774453), (32.039575602, 37.365254224))
            ThreePointArc((32.039575602, 37.365254224), (39.060923216, 40.416987382), (46.535076503, 42.075127974))
            ThreePointArc((46.535076503, 42.075127974), (48.05133083, 41.63354536), (48.774530928, 40.229620859))
            Line((48.774530928, 40.229620859), (50.419801908, 16.701149682))
            ThreePointArc((50.419801908, 16.701149682), (50.021189739, 15.357005306), (48.83804335, 14.604821561))
            ThreePointArc((48.83804335, 14.604821561), (47.558890562, 14.262933184), (46.323077271, 13.787659547))
            ThreePointArc((46.323077271, 13.787659547), (44.923769223, 13.70075298), (43.811216964, 14.553890269))
        make_face()
        with BuildLine():
            Line((54.062348932, 16.770718949), (55.707619912, 40.299190126))
            ThreePointArc((55.707619912, 40.299190126), (56.43082001, 41.703114627), (57.947074337, 42.144697241))
            ThreePointArc((57.947074337, 42.144697241), (65.421227624, 40.486556649), (72.442575238, 37.434823492))
            ThreePointArc((72.442575238, 37.434823492), (73.409695008, 36.186343721), (73.169570061, 34.625458588))
            Line((73.169570061, 34.625458588), (60.670933876, 14.623459537))
            ThreePointArc((60.670933876, 14.623459537), (59.558381617, 13.770322248), (58.159073569, 13.857228815))
            ThreePointArc((58.159073569, 13.857228815), (56.923260279, 14.332502451), (55.64410749, 14.674390829))
            ThreePointArc((55.64410749, 14.674390829), (54.460961101, 15.426574573), (54.062348932, 16.770718949))
        make_face()
        with BuildLine():
            Line((63.658708112, 12.538706835), (78.819448661, 30.606573851))
            ThreePointArc((78.819448661, 30.606573851), (80.229735948, 31.317286279), (81.715967214, 30.783302186))
            ThreePointArc((81.715967214, 30.783302186), (86.788053656, 25.048641192), (90.674679455, 18.452692627))
            ThreePointArc((90.674679455, 18.452692627), (90.723257787, 16.874192537), (89.611527363, 15.752551841))
            Line((89.611527363, 15.752551841), (67.743038224, 6.91710871))
            ThreePointArc((67.743038224, 6.91710871), (66.341503023, 6.880847955), (65.26052143, 7.773649479))
            ThreePointArc((65.26052143, 7.773649479), (64.540086311, 8.884546754), (63.706186913, 9.913007406))
            ThreePointArc((63.706186913, 9.913007406), (63.191123889, 11.216972838), (63.658708112, 12.538706835))
        make_face()
    extrude(amount=-CUT_EXTRUDE_4_DEPTH, mode=Mode.SUBTRACT)


solid = part.part
